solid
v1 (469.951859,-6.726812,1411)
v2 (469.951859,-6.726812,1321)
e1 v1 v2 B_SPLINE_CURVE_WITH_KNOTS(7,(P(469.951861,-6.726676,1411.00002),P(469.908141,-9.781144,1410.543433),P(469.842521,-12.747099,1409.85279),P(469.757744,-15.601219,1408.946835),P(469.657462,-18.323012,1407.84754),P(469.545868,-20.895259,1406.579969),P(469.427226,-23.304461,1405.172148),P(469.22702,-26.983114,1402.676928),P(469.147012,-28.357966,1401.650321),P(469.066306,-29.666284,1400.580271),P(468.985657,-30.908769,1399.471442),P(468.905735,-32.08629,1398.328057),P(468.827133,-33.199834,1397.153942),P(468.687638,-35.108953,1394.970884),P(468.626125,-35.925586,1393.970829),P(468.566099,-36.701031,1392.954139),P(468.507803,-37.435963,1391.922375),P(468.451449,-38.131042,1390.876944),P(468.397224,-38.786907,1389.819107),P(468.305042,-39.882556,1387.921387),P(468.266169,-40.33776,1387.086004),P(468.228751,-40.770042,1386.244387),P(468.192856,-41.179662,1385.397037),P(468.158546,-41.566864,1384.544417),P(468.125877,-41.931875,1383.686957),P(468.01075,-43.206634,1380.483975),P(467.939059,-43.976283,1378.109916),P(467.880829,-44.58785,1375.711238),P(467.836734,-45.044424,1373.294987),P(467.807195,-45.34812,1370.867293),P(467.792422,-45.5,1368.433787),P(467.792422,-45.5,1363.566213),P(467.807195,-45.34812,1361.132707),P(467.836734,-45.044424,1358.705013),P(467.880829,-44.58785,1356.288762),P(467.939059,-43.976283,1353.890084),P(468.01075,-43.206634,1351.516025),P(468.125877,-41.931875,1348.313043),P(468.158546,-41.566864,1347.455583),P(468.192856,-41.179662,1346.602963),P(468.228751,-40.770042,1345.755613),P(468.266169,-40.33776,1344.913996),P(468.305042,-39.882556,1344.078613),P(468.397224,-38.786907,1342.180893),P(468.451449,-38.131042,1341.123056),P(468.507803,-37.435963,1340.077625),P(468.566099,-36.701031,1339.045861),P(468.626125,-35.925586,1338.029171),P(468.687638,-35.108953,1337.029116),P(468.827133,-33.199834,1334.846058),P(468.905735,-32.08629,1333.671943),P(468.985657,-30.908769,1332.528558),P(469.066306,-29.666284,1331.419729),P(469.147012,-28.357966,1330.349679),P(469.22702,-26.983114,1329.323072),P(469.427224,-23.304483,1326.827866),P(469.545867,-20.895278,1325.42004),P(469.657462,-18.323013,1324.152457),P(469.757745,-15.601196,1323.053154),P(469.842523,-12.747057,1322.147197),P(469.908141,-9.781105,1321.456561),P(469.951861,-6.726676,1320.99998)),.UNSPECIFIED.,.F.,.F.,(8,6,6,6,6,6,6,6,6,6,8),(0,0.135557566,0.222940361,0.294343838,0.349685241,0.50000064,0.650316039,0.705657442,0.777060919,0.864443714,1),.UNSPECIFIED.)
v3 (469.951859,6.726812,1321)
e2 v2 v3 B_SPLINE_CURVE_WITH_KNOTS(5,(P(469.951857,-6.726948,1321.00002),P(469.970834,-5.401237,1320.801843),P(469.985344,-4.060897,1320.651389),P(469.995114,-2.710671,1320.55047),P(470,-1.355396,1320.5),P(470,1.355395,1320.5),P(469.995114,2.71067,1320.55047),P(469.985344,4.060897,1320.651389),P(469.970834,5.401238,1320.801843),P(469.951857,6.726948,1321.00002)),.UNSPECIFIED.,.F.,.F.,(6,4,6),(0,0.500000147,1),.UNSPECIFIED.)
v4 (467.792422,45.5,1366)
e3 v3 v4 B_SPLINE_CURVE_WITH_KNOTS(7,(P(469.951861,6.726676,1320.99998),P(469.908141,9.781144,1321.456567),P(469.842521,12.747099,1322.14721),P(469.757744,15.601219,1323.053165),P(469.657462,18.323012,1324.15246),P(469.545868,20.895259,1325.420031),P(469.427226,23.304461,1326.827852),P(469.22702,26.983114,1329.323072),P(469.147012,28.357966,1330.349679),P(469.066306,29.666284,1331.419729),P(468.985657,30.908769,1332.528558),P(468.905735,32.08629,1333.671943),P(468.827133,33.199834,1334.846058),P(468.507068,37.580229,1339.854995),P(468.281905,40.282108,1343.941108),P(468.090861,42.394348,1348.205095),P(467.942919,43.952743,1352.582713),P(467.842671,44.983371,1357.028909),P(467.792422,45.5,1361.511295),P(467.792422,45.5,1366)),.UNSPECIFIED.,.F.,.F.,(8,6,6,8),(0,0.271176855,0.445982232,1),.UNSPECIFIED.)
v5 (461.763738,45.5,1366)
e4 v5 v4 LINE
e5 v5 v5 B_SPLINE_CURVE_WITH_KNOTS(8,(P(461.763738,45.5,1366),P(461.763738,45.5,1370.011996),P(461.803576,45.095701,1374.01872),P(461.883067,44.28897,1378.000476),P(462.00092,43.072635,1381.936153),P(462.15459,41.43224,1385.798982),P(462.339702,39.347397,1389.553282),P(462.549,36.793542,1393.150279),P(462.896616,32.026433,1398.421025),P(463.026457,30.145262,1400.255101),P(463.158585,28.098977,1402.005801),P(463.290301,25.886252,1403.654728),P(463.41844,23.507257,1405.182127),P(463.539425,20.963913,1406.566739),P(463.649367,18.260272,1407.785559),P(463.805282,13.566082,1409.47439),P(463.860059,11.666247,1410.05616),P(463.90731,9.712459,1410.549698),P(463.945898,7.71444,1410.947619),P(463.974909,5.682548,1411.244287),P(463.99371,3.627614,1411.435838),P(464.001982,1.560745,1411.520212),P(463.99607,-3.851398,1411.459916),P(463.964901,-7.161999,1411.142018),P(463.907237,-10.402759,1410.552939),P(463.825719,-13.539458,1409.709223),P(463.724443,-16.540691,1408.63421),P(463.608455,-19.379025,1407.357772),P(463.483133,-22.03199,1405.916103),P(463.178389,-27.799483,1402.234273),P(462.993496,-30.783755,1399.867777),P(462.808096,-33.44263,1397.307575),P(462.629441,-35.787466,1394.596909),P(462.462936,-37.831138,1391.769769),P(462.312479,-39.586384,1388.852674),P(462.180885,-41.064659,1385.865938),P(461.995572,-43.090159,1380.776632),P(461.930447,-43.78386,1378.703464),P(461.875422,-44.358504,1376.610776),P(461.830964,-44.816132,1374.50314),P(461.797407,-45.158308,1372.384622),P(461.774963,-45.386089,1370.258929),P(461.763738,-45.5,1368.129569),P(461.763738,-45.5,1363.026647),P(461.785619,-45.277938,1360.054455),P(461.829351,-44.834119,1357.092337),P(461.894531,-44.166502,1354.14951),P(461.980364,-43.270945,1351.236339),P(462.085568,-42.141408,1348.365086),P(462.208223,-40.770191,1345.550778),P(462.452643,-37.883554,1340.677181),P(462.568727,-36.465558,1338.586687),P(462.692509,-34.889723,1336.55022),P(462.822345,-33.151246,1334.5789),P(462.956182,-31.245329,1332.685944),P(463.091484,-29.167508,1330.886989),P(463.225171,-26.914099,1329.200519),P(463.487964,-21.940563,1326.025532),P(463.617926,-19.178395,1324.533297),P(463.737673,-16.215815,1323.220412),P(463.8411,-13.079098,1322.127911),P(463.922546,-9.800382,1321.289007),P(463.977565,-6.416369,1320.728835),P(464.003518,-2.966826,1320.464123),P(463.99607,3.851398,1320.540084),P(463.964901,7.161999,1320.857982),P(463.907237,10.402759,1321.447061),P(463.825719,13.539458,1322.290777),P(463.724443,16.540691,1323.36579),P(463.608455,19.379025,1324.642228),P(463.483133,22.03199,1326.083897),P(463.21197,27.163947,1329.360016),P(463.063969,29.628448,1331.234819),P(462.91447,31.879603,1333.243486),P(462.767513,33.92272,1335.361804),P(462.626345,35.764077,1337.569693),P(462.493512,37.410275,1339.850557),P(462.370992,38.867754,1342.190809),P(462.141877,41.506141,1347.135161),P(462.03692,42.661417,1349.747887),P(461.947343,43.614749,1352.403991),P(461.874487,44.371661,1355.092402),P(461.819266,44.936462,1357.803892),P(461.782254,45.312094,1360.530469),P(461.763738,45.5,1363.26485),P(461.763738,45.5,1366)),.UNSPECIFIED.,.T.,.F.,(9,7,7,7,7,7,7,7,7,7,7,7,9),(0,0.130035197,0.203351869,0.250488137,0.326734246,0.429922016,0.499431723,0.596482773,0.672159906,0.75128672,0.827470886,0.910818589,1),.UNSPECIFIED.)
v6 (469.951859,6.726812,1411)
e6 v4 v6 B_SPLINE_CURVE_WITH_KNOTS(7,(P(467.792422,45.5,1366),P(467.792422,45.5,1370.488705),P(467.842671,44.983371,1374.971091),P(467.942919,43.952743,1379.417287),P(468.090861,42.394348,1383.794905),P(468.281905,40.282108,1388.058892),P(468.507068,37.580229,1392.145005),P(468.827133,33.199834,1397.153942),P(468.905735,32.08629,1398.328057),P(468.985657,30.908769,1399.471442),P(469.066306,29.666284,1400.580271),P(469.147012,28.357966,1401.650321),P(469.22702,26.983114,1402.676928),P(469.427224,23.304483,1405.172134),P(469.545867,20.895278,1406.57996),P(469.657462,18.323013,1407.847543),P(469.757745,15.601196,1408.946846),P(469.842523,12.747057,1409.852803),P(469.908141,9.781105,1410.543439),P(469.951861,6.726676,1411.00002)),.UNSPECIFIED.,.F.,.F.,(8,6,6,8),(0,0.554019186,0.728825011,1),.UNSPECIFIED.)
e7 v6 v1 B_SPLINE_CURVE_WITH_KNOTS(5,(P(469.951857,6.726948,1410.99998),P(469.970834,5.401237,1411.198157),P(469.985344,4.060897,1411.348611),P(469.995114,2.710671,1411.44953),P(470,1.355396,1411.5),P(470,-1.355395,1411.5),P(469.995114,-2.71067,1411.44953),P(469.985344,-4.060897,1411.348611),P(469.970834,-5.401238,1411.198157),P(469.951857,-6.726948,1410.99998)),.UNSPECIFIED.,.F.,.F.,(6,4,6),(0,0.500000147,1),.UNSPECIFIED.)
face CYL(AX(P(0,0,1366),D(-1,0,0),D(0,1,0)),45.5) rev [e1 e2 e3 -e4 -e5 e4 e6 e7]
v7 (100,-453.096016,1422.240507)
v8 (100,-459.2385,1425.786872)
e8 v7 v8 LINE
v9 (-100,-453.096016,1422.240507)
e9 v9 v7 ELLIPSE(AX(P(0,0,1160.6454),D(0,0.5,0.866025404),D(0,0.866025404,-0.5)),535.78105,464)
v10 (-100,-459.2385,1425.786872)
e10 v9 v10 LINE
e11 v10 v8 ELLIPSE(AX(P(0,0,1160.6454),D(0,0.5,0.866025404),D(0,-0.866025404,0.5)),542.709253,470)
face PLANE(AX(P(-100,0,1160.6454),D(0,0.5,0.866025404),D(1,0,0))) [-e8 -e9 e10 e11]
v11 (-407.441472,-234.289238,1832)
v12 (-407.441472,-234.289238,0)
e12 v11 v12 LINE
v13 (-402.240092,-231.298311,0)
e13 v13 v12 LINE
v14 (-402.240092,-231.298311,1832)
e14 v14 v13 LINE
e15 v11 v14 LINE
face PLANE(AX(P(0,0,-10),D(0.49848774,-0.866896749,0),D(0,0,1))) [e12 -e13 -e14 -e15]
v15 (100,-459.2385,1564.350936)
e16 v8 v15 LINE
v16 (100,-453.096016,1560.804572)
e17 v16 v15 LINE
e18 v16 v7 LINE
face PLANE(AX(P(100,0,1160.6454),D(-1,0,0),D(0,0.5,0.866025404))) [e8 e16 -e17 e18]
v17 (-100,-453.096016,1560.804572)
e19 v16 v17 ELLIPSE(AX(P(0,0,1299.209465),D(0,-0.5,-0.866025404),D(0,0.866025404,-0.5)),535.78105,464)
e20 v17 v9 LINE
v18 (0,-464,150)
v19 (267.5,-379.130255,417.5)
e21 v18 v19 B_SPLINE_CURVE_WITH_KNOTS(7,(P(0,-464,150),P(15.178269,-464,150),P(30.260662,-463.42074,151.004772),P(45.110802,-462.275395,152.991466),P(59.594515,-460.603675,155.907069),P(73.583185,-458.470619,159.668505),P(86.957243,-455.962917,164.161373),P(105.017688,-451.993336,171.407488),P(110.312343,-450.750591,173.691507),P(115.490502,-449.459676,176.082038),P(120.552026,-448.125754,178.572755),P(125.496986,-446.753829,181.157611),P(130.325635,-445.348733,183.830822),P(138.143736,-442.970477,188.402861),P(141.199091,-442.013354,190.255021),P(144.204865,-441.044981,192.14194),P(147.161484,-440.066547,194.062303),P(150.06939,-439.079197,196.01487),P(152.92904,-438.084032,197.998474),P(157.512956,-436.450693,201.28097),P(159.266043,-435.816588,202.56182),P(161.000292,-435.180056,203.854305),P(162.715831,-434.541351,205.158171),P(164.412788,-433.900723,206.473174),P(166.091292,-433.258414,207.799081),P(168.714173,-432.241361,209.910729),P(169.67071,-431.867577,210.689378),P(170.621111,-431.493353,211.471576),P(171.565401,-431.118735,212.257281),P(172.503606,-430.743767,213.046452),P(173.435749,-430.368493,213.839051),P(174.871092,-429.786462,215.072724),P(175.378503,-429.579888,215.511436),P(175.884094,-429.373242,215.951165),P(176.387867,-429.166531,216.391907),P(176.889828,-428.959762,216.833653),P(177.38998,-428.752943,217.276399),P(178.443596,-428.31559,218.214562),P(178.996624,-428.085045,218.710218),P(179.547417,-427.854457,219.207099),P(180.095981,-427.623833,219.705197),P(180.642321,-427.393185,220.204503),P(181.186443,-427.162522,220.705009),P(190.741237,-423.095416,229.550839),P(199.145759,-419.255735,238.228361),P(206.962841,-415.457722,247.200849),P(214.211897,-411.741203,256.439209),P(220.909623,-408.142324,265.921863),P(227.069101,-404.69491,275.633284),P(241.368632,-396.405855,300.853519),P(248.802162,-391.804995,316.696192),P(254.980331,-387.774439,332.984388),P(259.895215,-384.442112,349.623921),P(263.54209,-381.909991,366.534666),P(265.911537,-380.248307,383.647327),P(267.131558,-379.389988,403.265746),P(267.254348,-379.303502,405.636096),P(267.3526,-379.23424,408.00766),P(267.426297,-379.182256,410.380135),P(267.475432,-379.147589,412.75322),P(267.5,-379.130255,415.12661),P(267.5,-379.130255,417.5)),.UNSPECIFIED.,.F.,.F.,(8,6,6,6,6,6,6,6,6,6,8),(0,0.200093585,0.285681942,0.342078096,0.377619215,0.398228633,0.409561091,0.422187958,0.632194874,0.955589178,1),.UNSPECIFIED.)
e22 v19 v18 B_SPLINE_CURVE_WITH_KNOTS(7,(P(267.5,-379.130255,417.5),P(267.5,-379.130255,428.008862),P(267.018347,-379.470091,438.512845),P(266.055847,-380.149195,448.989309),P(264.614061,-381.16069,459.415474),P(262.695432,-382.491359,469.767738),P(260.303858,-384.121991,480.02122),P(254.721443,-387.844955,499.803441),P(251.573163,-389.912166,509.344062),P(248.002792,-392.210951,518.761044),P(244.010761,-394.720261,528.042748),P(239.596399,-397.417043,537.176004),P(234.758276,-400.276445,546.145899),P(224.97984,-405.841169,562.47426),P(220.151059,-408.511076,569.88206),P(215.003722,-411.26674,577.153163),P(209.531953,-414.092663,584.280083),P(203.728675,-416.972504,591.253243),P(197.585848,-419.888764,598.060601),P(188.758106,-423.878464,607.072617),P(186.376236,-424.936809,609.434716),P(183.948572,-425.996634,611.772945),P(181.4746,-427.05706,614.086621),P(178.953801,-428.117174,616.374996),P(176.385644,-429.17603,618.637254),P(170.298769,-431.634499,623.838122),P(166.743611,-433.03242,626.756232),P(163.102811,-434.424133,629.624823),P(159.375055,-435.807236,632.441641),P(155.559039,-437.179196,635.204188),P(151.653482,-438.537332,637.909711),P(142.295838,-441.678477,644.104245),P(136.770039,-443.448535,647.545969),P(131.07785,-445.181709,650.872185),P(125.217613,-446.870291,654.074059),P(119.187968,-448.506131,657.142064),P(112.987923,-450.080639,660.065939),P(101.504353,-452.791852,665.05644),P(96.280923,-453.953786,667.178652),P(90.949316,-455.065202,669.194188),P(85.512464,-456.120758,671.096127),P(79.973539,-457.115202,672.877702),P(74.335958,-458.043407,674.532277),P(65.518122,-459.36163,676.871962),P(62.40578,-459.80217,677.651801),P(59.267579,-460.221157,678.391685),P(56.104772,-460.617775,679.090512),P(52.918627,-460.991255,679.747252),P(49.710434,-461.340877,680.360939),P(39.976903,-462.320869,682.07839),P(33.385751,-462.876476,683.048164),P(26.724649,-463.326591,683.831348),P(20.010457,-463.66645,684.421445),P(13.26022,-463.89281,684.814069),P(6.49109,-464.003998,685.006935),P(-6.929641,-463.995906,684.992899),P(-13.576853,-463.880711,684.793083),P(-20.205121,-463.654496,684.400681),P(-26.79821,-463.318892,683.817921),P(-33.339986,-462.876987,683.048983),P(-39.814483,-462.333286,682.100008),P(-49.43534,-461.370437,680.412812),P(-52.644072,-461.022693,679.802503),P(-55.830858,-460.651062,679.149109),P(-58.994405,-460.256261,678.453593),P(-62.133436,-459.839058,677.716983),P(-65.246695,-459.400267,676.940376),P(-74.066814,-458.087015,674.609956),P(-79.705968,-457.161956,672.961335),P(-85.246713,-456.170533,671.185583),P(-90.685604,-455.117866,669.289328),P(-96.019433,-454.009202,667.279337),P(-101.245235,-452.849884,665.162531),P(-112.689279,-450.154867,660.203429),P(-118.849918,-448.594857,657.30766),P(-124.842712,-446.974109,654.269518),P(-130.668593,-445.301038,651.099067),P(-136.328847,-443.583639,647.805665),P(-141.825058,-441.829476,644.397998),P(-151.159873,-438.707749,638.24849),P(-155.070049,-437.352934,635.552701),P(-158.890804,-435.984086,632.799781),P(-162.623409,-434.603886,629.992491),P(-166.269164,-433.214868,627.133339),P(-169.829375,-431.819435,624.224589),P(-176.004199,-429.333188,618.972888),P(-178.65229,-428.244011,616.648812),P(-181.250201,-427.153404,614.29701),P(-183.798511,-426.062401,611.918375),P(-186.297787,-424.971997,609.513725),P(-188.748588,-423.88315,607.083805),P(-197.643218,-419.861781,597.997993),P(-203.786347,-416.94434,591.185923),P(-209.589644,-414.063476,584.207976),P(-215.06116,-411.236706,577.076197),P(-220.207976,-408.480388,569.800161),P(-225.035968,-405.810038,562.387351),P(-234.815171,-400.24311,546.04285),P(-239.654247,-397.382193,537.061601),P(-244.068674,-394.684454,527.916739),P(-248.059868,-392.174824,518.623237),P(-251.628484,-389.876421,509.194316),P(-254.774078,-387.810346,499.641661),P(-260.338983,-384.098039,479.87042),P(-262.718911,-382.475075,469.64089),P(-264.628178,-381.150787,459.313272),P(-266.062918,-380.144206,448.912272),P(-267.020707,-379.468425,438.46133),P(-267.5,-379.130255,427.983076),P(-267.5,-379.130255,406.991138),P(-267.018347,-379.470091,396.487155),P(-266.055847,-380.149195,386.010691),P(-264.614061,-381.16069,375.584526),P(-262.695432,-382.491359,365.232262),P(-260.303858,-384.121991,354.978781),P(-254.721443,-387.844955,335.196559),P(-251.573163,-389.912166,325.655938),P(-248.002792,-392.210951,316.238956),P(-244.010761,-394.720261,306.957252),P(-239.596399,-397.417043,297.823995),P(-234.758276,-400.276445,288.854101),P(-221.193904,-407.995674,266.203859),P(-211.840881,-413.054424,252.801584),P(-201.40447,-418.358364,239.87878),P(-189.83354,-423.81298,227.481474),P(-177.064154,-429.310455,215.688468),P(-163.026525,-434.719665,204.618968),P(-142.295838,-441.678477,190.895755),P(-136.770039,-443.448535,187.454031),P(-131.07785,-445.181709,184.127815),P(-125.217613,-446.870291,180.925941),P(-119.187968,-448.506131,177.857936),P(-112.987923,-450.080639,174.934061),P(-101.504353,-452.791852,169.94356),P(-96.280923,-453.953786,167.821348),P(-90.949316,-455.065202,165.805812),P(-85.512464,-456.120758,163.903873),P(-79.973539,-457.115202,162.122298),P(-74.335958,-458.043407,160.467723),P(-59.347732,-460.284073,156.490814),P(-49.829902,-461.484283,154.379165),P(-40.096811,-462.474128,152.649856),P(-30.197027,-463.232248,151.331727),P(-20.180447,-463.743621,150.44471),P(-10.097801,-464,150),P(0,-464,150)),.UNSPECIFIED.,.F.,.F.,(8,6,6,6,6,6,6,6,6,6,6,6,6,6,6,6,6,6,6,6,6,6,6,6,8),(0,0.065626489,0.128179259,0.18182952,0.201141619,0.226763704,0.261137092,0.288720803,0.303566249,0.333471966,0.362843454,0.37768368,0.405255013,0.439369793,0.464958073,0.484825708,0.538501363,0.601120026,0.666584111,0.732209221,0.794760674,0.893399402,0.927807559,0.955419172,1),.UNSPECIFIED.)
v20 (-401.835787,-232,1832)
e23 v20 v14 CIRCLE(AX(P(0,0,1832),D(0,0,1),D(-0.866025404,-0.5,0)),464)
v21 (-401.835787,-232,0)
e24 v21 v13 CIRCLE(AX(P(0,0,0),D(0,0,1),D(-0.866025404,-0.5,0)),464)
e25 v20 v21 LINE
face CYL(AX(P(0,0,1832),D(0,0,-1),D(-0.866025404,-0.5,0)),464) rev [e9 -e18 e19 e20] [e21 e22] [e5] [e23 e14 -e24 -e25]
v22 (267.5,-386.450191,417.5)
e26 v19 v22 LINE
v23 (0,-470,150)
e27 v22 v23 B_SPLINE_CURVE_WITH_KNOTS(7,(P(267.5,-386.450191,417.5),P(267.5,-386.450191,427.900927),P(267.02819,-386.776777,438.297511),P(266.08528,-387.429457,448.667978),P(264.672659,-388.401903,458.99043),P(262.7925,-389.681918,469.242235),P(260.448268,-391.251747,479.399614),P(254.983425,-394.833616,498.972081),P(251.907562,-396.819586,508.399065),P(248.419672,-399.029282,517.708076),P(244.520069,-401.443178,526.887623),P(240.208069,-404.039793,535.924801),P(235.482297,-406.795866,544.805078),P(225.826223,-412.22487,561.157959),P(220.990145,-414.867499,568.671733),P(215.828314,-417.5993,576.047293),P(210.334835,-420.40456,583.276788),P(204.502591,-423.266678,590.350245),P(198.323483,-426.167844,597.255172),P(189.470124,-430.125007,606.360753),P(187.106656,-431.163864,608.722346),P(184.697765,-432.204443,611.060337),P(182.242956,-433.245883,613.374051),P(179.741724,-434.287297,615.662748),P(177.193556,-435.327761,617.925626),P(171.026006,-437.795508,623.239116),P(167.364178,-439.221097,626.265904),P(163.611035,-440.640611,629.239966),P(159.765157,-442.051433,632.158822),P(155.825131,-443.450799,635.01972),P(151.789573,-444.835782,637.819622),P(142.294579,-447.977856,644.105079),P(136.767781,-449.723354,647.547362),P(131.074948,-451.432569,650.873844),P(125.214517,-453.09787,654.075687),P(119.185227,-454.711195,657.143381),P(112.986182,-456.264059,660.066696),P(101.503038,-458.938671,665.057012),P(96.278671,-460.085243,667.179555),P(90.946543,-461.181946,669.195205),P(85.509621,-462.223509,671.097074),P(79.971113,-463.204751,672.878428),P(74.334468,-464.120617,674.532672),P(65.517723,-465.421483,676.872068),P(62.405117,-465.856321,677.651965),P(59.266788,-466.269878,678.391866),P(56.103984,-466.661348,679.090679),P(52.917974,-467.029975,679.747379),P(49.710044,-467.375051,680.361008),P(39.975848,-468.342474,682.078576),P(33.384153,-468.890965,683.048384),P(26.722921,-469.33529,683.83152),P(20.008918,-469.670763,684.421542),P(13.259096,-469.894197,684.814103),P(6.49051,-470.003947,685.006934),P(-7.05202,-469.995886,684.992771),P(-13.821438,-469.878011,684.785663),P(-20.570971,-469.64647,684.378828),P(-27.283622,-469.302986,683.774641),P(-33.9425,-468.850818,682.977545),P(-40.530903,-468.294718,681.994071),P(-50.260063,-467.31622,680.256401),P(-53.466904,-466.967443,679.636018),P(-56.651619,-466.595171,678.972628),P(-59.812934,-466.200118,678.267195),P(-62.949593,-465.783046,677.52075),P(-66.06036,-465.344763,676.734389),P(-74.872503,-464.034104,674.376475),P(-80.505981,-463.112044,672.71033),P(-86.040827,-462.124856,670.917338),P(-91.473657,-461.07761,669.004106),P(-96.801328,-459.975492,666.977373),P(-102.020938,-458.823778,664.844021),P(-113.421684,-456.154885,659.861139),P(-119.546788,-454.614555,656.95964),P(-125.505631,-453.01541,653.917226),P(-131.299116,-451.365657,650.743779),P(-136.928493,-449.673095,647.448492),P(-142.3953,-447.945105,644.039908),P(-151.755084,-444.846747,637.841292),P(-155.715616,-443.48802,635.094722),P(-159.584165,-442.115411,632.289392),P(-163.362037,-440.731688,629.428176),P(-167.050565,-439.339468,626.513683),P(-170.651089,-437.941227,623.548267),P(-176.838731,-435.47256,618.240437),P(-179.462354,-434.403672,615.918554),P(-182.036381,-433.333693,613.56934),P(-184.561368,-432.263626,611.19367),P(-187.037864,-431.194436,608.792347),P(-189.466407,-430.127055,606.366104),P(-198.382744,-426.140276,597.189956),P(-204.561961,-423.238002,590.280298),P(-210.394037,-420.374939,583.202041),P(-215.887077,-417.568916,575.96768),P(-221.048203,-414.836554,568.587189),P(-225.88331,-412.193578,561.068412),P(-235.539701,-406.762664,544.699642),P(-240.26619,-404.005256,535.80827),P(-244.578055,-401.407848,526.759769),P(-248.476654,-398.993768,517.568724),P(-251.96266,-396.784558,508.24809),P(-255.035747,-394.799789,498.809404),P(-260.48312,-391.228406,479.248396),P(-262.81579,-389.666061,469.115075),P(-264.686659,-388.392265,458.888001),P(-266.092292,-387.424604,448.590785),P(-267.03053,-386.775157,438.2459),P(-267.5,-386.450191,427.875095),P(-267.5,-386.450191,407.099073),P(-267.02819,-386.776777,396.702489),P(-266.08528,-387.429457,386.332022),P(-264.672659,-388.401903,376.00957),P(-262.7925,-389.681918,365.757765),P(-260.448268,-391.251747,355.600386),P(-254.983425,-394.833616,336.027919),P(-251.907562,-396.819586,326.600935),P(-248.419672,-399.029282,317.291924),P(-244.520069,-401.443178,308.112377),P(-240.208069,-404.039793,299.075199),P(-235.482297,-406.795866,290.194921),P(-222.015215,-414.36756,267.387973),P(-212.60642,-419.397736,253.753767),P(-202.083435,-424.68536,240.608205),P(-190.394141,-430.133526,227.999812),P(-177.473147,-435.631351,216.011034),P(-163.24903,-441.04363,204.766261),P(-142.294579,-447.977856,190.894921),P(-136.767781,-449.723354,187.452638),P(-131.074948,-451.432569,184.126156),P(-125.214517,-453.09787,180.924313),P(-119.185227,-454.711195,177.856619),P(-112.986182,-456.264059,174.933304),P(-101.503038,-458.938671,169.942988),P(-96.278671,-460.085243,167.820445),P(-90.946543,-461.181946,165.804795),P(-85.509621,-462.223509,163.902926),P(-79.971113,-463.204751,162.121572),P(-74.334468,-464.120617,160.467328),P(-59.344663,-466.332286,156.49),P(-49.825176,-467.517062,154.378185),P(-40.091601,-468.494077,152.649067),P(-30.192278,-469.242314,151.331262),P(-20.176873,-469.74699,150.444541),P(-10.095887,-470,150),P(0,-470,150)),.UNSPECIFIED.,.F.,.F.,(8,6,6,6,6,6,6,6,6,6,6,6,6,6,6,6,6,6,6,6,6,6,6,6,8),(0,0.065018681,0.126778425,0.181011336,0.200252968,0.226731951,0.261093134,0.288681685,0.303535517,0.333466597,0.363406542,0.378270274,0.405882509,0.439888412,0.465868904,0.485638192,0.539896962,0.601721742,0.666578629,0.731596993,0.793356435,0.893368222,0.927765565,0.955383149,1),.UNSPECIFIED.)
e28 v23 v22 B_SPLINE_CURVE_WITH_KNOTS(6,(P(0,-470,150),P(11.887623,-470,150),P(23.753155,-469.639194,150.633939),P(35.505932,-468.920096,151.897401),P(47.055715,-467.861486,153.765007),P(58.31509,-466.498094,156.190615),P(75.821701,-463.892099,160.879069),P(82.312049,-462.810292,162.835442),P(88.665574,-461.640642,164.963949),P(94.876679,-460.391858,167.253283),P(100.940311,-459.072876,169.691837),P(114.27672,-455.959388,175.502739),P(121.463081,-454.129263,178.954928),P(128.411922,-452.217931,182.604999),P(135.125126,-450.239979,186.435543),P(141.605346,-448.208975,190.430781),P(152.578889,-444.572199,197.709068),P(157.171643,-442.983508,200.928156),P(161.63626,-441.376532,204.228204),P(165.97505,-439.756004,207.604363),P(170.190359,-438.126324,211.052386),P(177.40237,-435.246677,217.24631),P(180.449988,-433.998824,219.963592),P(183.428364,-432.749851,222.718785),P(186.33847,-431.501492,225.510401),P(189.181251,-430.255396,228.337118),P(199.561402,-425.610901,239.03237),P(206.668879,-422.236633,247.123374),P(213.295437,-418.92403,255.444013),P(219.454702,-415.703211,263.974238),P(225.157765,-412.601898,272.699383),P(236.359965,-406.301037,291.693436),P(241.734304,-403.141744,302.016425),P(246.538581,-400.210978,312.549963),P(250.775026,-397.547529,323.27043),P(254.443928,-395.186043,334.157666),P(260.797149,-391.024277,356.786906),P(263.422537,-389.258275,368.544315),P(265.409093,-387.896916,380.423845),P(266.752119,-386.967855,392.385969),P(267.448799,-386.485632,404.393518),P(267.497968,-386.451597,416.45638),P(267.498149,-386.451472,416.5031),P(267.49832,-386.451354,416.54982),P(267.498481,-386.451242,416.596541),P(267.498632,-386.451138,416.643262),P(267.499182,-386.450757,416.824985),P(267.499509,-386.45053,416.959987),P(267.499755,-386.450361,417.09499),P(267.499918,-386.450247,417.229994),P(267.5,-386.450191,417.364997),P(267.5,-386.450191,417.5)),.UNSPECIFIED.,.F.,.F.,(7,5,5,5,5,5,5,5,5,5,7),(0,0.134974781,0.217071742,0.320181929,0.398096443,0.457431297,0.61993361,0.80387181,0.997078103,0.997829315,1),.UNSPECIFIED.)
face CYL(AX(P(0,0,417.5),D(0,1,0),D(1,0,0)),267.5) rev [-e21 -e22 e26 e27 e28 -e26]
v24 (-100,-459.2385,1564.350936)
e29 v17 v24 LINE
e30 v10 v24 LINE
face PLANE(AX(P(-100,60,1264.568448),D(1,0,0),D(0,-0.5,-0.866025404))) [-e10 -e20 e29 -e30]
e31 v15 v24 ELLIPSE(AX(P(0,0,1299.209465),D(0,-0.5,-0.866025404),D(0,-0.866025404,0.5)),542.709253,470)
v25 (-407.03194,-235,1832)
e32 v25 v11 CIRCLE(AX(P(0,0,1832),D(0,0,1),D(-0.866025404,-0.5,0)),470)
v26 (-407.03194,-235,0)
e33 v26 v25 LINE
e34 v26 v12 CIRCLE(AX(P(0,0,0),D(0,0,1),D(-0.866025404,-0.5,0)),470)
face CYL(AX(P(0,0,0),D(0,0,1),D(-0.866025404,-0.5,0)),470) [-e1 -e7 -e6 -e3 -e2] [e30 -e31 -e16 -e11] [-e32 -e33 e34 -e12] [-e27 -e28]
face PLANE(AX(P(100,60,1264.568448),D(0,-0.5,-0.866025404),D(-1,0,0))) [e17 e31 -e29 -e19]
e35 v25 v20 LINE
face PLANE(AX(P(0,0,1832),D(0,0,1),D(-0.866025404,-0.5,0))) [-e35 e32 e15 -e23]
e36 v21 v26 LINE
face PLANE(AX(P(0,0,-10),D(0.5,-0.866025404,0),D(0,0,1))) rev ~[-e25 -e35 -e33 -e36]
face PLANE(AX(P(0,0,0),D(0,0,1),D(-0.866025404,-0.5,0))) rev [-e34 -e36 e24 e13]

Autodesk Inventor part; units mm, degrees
sketch "Sketch13" plane through (0, 0, 0) normal (0, 0, 1) x (1, 0, 0)
  circle A0 centre (0, 0) radius 470 construction
  line L0 (0, 0) -> (0, -470)
  line L1 (0, 0) -> (-407.0319, -235)
  line L2 (0, 0) -> (470, 0)
  line L3 (0, 0) -> (0, -470)
  line L4 (0, 0) -> (0, -470)
  line L5 (0, 0) -> (418.7731, 213.3755)
  line L6 (0, 0) -> (0, 470)
  dimension "d53" = 940
  dimension "d55" = 0
  dimension "d98" = 180
  dimension "d99" = 240
  dimension "d100" = 63
  dimension "d101" = 90
ref_plane "WeldJoint" through (0, 0, -10) normal (0.5, -0.866, 0) x (0, 0, 1)
ref_plane "Inlet_Clock_Angle_plane" through (0, 0, -10) normal (0, 1, 0) x (0, 0, 1)
ref_plane "Charging" through (0, 0, -10) normal (1, 0, 0) x (0, 0, 1)
ref_plane "Accsess" through (0, 0, -10) normal (1, 0, 0) x (0, 0, 1)
sketch "Sketch14" plane through (0, 0, -10) normal (0.5, -0.866, 0) x (0, 0, 1)
  line L0 (1842, 464) -> (10, 464)
  line L1 (10, 464) -> (10, 470)
  line L2 (10, 470) -> (1842, 470)
  line L3 (1842, 470) -> (1842, 464)
  line L4 (10, 0) -> (1842, 0)
  line L5 (10, 470) -> (-20, 470) construction
  line L6 (10, 464) -> (-20, 464) construction
  arc A0 (-20, 464) -> (-74.1579, 429.8249) centre (-20, 404) ccw construction
  arc A1 (-74.1579, 429.8249) -> (-168, 15) centre (795.7784, 15) ccw construction
  line L7 (-168, 15) -> (-168, 0) construction
  line L8 (10, 0) -> (-168, 0) construction
  arc A2 (-20, 470) -> (-79.5736, 432.4074) centre (-20, 404) ccw construction
  arc A3 (-79.5736, 432.4074) -> (-174, 15) centre (795.7784, 15) ccw construction
  line L9 (-174, 15) -> (-174, 0) construction
  line L10 (-168, 0) -> (-174, 0) construction
  line L11 (1842, 464) -> (1872, 464)
  line L12 (1842, 470) -> (1872, 470)
  line L13 (1842, 0) -> (2020, 0) construction
  line L14 (2026, 0) -> (2026, 15) construction
  arc A4 (2026, 15) -> (1931.5736, 432.4074) centre (1056.2216, 15) ccw construction
  arc A5 (1931.5736, 432.4074) -> (1872, 470) centre (1872, 404) ccw construction
  line L15 (2020, 0) -> (2020, 15) construction
  line L16 (2020, 0) -> (2026, 0) construction
  arc A6 (2020, 15) -> (1926.1579, 429.8249) centre (1056.2216, 15) ccw construction
  arc A7 (1926.1579, 429.8249) -> (1872, 464) centre (1872, 404) ccw construction
  line L17 (-119.3891, 418.399) -> (-474, 418.399)
  line L18 (-474, 418.399) -> (-474, 338.399)
  line L19 (-474, 338.399) -> (-119.3891, 338.399)
  line L20 (-119.3891, 338.399) -> (-119.3891, 418.399)
  line L21 (2026, 15) -> (2056, 15) construction
  line L22 (2056, 15) -> (2056, 0) construction
  line L23 (2056, 0) -> (2026, 0) construction
  line L24 (-474, 498.399) -> (-474, 418.399)
  line L25 (-474, 498.399) -> (-468, 498.399)
  line L26 (-468, 498.399) -> (-468, 418.399)
  line L27 (-81.71, 432.3205) -> (-126.8357, 319.837)
  line L28 (-119.3891, 418.399) -> (-87.295, 418.399)
  line L29 (-74.1579, 429.8249) -> (-79.5736, 432.4074)
  line L30 (-81.71, 432.3205) -> (-81.3377, 433.2486) construction
  line L31 (-81.3377, 433.2486) -> (-79.5736, 432.4074) construction
  line L32 (-474, 498.399) -> (-474, 498.399)
  line L33 (-474, 498.399) -> (-474, 338.399)
  line L34 (-474, 338.399) -> (-474, 338.399)
  line L35 (1421, 470) -> (1331, 470)
  line L36 (1331, 470) -> (1331, 570)
  line L37 (1331, 570) -> (1421, 570)
  line L38 (1421, 570) -> (1421, 470)
  point P0 (10, 467)
  point P1 (-104.2729, 376.0787)
  point P2 (1376, 570)
  dimension "d59" = 1832
  dimension "d60" = 6
  dimension "d61" = 940
  dimension "d82" = 60
  dimension "d83" = 30
  dimension "d86" = 80
  dimension "d87" = 30
  dimension "d91" = 15
  dimension "d92" = 20
  dimension "d93" = 184
  dimension "d94" = 30
  dimension "d103" = 386.705
  dimension "d104" = 21.86
  dimension "d105" = 121.1976
  dimension "d107" = 1
  dimension "d108" = 676.798
  dimension "d109" = 0
  dimension "d110" = 2530
  dimension "d111" = 300
  dimension "d112" = 100
  dimension "d113" = 90
  dimension "d114" = 1850
  dimension "d115" = 1366
revolve "Revolution2" add sketch "Sketch14" angle 359.9 about axis through (0, 0, 0) along (0, 0, 1) contours L0 L1 L2 L3
sketch "Sketch AnglePlane_InletPipe" plane through (0, 0, -10) normal (0, 1, 0) x (0, 0, 1)
  line L0 (10, -470) -> (10, 470) projected
  line L1 (10, 0) -> (1376, 0)
  line L2 (1376, 0) -> (1376, 470)
  line L3 (1376, 470) -> (10, 470)
  line L4 (10, 470) -> (10, 0)
  point P0 (10, -407.0319)
  point P1 (10, -407.4415)
  dimension "d63" = 940
  dimension "d64" = 90
  dimension "frd_hght" = 1366
ref_plane "InletPipe_AnglePlane" through (0, 0, 1366) normal (1, 0, 0) x (0, 1, 0)
sketch "Sketch16" plane through (0, 0, 1366) normal (1, 0, 0) x (0, 1, 0)
  circle A0 centre (0, 0) radius 45.5
  point P0 (0, -1366)
  point P1 (0, 0)
  point P2 (0, 0)
  point P3 (0, 0)
  dimension "d66" = 91
extrude "Extrusion7" cut sketch "Sketch16" along normal through all
ref_plane "Work Plane16" through (0, 0, 0) normal (0, -1, 0) x (1, 0, 0)
sketch "Sketch17" plane through (0, 0, 0) normal (0, -1, 0) x (1, 0, 0)
  circle A0 centre (0, 417.5) radius 267.5
  line L0 (0, 150) -> (-495.5727, 150)
  point P0 (0, 0)
  dimension "d69" = 535
  dimension "d71" = 150
extrude "Extrusion8" cut sketch "Sketch17" along normal through all
sketch "ChargingAngleSketch19" plane through (0, 0, -10) normal (1, 0, 0) x (0, 0, 1)
  line L0 (10, 0) -> (1170.6454, 0)
  line L1 (1170.6454, 0) -> (1442, 470)
  line L2 (1442, 470) -> (10, 470)
  line L3 (10, 470) -> (10, 0)
  dimension "d74" = 1432
  dimension "d76" = 940
  dimension "d77" = 60
ref_plane "Work Plane18" through (0, 0, 1160.6454) normal (0, -0.866, 0.5) x (1, 0, 0)
sketch "Sketch20" plane through (0, 0, 1160.6454) normal (0, -0.866, 0.5) x (1, 0, 0)
  line L0 (-100, 0) -> (100, 0)
  line L1 (100, 0) -> (100, 120)
  line L2 (100, 120) -> (-100, 120)
  line L3 (-100, 120) -> (-100, 0)
  point P0 (0, -1005.1484)
  point P1 (0, 0)
  point P2 (0, 0)
  point P3 (0, 0)
  point P4 (0, 0)
  dimension "d78" = 200
  dimension "d79" = 120
extrude "Charging hole" cut sketch "Sketch20" along normal through all
equation "\"BendRadius\" = Thickness"
equation "\"BendReliefWidth\" = Thickness"
equation "\"BendReliefDepth\" = 0.5 * Thickness"
equation "\"CornerReliefSize\" = 4 * Thickness"
equation "\"MinimumRemnant\" = 2 * Thickness"
equation "\"TransitionRadius\" = BendRadius"
equation "\"JacobiRadiusSize\" = BendRadius"
equation "\"GapSize\" = Thickness"
equation "\"InletPipe_horisont_angle\" = 0"
equation "\"AccsessHatch_ClockAngle\" = 0"
equation "\"ChargingHatch_ClockAgnle\" = 180deg"
equation "\"InletPipe_Clock_angle\" = 90deg"
equation "\"OutletPipe_ClockAngle\" = 63deg"
equation "\"WeldJoint_ClockAgnle\" = 240deg"
equation "\"AA_MAIN_Shell_hight\" = 1832"
equation "\"Legs_Tube_lenght\" = 386.70499"
equation "\"Legs_Upper_plate_lenght\" = 121.19761"
equation "\"Legs_Inner_diam\" = 676.79799"
equation "\"AA_MAIN_dish_hight\" = 184"
equation "\"Thickness\" = 6"
properties part number "PRS 0101 main shell D1200 940" material "Steel"
